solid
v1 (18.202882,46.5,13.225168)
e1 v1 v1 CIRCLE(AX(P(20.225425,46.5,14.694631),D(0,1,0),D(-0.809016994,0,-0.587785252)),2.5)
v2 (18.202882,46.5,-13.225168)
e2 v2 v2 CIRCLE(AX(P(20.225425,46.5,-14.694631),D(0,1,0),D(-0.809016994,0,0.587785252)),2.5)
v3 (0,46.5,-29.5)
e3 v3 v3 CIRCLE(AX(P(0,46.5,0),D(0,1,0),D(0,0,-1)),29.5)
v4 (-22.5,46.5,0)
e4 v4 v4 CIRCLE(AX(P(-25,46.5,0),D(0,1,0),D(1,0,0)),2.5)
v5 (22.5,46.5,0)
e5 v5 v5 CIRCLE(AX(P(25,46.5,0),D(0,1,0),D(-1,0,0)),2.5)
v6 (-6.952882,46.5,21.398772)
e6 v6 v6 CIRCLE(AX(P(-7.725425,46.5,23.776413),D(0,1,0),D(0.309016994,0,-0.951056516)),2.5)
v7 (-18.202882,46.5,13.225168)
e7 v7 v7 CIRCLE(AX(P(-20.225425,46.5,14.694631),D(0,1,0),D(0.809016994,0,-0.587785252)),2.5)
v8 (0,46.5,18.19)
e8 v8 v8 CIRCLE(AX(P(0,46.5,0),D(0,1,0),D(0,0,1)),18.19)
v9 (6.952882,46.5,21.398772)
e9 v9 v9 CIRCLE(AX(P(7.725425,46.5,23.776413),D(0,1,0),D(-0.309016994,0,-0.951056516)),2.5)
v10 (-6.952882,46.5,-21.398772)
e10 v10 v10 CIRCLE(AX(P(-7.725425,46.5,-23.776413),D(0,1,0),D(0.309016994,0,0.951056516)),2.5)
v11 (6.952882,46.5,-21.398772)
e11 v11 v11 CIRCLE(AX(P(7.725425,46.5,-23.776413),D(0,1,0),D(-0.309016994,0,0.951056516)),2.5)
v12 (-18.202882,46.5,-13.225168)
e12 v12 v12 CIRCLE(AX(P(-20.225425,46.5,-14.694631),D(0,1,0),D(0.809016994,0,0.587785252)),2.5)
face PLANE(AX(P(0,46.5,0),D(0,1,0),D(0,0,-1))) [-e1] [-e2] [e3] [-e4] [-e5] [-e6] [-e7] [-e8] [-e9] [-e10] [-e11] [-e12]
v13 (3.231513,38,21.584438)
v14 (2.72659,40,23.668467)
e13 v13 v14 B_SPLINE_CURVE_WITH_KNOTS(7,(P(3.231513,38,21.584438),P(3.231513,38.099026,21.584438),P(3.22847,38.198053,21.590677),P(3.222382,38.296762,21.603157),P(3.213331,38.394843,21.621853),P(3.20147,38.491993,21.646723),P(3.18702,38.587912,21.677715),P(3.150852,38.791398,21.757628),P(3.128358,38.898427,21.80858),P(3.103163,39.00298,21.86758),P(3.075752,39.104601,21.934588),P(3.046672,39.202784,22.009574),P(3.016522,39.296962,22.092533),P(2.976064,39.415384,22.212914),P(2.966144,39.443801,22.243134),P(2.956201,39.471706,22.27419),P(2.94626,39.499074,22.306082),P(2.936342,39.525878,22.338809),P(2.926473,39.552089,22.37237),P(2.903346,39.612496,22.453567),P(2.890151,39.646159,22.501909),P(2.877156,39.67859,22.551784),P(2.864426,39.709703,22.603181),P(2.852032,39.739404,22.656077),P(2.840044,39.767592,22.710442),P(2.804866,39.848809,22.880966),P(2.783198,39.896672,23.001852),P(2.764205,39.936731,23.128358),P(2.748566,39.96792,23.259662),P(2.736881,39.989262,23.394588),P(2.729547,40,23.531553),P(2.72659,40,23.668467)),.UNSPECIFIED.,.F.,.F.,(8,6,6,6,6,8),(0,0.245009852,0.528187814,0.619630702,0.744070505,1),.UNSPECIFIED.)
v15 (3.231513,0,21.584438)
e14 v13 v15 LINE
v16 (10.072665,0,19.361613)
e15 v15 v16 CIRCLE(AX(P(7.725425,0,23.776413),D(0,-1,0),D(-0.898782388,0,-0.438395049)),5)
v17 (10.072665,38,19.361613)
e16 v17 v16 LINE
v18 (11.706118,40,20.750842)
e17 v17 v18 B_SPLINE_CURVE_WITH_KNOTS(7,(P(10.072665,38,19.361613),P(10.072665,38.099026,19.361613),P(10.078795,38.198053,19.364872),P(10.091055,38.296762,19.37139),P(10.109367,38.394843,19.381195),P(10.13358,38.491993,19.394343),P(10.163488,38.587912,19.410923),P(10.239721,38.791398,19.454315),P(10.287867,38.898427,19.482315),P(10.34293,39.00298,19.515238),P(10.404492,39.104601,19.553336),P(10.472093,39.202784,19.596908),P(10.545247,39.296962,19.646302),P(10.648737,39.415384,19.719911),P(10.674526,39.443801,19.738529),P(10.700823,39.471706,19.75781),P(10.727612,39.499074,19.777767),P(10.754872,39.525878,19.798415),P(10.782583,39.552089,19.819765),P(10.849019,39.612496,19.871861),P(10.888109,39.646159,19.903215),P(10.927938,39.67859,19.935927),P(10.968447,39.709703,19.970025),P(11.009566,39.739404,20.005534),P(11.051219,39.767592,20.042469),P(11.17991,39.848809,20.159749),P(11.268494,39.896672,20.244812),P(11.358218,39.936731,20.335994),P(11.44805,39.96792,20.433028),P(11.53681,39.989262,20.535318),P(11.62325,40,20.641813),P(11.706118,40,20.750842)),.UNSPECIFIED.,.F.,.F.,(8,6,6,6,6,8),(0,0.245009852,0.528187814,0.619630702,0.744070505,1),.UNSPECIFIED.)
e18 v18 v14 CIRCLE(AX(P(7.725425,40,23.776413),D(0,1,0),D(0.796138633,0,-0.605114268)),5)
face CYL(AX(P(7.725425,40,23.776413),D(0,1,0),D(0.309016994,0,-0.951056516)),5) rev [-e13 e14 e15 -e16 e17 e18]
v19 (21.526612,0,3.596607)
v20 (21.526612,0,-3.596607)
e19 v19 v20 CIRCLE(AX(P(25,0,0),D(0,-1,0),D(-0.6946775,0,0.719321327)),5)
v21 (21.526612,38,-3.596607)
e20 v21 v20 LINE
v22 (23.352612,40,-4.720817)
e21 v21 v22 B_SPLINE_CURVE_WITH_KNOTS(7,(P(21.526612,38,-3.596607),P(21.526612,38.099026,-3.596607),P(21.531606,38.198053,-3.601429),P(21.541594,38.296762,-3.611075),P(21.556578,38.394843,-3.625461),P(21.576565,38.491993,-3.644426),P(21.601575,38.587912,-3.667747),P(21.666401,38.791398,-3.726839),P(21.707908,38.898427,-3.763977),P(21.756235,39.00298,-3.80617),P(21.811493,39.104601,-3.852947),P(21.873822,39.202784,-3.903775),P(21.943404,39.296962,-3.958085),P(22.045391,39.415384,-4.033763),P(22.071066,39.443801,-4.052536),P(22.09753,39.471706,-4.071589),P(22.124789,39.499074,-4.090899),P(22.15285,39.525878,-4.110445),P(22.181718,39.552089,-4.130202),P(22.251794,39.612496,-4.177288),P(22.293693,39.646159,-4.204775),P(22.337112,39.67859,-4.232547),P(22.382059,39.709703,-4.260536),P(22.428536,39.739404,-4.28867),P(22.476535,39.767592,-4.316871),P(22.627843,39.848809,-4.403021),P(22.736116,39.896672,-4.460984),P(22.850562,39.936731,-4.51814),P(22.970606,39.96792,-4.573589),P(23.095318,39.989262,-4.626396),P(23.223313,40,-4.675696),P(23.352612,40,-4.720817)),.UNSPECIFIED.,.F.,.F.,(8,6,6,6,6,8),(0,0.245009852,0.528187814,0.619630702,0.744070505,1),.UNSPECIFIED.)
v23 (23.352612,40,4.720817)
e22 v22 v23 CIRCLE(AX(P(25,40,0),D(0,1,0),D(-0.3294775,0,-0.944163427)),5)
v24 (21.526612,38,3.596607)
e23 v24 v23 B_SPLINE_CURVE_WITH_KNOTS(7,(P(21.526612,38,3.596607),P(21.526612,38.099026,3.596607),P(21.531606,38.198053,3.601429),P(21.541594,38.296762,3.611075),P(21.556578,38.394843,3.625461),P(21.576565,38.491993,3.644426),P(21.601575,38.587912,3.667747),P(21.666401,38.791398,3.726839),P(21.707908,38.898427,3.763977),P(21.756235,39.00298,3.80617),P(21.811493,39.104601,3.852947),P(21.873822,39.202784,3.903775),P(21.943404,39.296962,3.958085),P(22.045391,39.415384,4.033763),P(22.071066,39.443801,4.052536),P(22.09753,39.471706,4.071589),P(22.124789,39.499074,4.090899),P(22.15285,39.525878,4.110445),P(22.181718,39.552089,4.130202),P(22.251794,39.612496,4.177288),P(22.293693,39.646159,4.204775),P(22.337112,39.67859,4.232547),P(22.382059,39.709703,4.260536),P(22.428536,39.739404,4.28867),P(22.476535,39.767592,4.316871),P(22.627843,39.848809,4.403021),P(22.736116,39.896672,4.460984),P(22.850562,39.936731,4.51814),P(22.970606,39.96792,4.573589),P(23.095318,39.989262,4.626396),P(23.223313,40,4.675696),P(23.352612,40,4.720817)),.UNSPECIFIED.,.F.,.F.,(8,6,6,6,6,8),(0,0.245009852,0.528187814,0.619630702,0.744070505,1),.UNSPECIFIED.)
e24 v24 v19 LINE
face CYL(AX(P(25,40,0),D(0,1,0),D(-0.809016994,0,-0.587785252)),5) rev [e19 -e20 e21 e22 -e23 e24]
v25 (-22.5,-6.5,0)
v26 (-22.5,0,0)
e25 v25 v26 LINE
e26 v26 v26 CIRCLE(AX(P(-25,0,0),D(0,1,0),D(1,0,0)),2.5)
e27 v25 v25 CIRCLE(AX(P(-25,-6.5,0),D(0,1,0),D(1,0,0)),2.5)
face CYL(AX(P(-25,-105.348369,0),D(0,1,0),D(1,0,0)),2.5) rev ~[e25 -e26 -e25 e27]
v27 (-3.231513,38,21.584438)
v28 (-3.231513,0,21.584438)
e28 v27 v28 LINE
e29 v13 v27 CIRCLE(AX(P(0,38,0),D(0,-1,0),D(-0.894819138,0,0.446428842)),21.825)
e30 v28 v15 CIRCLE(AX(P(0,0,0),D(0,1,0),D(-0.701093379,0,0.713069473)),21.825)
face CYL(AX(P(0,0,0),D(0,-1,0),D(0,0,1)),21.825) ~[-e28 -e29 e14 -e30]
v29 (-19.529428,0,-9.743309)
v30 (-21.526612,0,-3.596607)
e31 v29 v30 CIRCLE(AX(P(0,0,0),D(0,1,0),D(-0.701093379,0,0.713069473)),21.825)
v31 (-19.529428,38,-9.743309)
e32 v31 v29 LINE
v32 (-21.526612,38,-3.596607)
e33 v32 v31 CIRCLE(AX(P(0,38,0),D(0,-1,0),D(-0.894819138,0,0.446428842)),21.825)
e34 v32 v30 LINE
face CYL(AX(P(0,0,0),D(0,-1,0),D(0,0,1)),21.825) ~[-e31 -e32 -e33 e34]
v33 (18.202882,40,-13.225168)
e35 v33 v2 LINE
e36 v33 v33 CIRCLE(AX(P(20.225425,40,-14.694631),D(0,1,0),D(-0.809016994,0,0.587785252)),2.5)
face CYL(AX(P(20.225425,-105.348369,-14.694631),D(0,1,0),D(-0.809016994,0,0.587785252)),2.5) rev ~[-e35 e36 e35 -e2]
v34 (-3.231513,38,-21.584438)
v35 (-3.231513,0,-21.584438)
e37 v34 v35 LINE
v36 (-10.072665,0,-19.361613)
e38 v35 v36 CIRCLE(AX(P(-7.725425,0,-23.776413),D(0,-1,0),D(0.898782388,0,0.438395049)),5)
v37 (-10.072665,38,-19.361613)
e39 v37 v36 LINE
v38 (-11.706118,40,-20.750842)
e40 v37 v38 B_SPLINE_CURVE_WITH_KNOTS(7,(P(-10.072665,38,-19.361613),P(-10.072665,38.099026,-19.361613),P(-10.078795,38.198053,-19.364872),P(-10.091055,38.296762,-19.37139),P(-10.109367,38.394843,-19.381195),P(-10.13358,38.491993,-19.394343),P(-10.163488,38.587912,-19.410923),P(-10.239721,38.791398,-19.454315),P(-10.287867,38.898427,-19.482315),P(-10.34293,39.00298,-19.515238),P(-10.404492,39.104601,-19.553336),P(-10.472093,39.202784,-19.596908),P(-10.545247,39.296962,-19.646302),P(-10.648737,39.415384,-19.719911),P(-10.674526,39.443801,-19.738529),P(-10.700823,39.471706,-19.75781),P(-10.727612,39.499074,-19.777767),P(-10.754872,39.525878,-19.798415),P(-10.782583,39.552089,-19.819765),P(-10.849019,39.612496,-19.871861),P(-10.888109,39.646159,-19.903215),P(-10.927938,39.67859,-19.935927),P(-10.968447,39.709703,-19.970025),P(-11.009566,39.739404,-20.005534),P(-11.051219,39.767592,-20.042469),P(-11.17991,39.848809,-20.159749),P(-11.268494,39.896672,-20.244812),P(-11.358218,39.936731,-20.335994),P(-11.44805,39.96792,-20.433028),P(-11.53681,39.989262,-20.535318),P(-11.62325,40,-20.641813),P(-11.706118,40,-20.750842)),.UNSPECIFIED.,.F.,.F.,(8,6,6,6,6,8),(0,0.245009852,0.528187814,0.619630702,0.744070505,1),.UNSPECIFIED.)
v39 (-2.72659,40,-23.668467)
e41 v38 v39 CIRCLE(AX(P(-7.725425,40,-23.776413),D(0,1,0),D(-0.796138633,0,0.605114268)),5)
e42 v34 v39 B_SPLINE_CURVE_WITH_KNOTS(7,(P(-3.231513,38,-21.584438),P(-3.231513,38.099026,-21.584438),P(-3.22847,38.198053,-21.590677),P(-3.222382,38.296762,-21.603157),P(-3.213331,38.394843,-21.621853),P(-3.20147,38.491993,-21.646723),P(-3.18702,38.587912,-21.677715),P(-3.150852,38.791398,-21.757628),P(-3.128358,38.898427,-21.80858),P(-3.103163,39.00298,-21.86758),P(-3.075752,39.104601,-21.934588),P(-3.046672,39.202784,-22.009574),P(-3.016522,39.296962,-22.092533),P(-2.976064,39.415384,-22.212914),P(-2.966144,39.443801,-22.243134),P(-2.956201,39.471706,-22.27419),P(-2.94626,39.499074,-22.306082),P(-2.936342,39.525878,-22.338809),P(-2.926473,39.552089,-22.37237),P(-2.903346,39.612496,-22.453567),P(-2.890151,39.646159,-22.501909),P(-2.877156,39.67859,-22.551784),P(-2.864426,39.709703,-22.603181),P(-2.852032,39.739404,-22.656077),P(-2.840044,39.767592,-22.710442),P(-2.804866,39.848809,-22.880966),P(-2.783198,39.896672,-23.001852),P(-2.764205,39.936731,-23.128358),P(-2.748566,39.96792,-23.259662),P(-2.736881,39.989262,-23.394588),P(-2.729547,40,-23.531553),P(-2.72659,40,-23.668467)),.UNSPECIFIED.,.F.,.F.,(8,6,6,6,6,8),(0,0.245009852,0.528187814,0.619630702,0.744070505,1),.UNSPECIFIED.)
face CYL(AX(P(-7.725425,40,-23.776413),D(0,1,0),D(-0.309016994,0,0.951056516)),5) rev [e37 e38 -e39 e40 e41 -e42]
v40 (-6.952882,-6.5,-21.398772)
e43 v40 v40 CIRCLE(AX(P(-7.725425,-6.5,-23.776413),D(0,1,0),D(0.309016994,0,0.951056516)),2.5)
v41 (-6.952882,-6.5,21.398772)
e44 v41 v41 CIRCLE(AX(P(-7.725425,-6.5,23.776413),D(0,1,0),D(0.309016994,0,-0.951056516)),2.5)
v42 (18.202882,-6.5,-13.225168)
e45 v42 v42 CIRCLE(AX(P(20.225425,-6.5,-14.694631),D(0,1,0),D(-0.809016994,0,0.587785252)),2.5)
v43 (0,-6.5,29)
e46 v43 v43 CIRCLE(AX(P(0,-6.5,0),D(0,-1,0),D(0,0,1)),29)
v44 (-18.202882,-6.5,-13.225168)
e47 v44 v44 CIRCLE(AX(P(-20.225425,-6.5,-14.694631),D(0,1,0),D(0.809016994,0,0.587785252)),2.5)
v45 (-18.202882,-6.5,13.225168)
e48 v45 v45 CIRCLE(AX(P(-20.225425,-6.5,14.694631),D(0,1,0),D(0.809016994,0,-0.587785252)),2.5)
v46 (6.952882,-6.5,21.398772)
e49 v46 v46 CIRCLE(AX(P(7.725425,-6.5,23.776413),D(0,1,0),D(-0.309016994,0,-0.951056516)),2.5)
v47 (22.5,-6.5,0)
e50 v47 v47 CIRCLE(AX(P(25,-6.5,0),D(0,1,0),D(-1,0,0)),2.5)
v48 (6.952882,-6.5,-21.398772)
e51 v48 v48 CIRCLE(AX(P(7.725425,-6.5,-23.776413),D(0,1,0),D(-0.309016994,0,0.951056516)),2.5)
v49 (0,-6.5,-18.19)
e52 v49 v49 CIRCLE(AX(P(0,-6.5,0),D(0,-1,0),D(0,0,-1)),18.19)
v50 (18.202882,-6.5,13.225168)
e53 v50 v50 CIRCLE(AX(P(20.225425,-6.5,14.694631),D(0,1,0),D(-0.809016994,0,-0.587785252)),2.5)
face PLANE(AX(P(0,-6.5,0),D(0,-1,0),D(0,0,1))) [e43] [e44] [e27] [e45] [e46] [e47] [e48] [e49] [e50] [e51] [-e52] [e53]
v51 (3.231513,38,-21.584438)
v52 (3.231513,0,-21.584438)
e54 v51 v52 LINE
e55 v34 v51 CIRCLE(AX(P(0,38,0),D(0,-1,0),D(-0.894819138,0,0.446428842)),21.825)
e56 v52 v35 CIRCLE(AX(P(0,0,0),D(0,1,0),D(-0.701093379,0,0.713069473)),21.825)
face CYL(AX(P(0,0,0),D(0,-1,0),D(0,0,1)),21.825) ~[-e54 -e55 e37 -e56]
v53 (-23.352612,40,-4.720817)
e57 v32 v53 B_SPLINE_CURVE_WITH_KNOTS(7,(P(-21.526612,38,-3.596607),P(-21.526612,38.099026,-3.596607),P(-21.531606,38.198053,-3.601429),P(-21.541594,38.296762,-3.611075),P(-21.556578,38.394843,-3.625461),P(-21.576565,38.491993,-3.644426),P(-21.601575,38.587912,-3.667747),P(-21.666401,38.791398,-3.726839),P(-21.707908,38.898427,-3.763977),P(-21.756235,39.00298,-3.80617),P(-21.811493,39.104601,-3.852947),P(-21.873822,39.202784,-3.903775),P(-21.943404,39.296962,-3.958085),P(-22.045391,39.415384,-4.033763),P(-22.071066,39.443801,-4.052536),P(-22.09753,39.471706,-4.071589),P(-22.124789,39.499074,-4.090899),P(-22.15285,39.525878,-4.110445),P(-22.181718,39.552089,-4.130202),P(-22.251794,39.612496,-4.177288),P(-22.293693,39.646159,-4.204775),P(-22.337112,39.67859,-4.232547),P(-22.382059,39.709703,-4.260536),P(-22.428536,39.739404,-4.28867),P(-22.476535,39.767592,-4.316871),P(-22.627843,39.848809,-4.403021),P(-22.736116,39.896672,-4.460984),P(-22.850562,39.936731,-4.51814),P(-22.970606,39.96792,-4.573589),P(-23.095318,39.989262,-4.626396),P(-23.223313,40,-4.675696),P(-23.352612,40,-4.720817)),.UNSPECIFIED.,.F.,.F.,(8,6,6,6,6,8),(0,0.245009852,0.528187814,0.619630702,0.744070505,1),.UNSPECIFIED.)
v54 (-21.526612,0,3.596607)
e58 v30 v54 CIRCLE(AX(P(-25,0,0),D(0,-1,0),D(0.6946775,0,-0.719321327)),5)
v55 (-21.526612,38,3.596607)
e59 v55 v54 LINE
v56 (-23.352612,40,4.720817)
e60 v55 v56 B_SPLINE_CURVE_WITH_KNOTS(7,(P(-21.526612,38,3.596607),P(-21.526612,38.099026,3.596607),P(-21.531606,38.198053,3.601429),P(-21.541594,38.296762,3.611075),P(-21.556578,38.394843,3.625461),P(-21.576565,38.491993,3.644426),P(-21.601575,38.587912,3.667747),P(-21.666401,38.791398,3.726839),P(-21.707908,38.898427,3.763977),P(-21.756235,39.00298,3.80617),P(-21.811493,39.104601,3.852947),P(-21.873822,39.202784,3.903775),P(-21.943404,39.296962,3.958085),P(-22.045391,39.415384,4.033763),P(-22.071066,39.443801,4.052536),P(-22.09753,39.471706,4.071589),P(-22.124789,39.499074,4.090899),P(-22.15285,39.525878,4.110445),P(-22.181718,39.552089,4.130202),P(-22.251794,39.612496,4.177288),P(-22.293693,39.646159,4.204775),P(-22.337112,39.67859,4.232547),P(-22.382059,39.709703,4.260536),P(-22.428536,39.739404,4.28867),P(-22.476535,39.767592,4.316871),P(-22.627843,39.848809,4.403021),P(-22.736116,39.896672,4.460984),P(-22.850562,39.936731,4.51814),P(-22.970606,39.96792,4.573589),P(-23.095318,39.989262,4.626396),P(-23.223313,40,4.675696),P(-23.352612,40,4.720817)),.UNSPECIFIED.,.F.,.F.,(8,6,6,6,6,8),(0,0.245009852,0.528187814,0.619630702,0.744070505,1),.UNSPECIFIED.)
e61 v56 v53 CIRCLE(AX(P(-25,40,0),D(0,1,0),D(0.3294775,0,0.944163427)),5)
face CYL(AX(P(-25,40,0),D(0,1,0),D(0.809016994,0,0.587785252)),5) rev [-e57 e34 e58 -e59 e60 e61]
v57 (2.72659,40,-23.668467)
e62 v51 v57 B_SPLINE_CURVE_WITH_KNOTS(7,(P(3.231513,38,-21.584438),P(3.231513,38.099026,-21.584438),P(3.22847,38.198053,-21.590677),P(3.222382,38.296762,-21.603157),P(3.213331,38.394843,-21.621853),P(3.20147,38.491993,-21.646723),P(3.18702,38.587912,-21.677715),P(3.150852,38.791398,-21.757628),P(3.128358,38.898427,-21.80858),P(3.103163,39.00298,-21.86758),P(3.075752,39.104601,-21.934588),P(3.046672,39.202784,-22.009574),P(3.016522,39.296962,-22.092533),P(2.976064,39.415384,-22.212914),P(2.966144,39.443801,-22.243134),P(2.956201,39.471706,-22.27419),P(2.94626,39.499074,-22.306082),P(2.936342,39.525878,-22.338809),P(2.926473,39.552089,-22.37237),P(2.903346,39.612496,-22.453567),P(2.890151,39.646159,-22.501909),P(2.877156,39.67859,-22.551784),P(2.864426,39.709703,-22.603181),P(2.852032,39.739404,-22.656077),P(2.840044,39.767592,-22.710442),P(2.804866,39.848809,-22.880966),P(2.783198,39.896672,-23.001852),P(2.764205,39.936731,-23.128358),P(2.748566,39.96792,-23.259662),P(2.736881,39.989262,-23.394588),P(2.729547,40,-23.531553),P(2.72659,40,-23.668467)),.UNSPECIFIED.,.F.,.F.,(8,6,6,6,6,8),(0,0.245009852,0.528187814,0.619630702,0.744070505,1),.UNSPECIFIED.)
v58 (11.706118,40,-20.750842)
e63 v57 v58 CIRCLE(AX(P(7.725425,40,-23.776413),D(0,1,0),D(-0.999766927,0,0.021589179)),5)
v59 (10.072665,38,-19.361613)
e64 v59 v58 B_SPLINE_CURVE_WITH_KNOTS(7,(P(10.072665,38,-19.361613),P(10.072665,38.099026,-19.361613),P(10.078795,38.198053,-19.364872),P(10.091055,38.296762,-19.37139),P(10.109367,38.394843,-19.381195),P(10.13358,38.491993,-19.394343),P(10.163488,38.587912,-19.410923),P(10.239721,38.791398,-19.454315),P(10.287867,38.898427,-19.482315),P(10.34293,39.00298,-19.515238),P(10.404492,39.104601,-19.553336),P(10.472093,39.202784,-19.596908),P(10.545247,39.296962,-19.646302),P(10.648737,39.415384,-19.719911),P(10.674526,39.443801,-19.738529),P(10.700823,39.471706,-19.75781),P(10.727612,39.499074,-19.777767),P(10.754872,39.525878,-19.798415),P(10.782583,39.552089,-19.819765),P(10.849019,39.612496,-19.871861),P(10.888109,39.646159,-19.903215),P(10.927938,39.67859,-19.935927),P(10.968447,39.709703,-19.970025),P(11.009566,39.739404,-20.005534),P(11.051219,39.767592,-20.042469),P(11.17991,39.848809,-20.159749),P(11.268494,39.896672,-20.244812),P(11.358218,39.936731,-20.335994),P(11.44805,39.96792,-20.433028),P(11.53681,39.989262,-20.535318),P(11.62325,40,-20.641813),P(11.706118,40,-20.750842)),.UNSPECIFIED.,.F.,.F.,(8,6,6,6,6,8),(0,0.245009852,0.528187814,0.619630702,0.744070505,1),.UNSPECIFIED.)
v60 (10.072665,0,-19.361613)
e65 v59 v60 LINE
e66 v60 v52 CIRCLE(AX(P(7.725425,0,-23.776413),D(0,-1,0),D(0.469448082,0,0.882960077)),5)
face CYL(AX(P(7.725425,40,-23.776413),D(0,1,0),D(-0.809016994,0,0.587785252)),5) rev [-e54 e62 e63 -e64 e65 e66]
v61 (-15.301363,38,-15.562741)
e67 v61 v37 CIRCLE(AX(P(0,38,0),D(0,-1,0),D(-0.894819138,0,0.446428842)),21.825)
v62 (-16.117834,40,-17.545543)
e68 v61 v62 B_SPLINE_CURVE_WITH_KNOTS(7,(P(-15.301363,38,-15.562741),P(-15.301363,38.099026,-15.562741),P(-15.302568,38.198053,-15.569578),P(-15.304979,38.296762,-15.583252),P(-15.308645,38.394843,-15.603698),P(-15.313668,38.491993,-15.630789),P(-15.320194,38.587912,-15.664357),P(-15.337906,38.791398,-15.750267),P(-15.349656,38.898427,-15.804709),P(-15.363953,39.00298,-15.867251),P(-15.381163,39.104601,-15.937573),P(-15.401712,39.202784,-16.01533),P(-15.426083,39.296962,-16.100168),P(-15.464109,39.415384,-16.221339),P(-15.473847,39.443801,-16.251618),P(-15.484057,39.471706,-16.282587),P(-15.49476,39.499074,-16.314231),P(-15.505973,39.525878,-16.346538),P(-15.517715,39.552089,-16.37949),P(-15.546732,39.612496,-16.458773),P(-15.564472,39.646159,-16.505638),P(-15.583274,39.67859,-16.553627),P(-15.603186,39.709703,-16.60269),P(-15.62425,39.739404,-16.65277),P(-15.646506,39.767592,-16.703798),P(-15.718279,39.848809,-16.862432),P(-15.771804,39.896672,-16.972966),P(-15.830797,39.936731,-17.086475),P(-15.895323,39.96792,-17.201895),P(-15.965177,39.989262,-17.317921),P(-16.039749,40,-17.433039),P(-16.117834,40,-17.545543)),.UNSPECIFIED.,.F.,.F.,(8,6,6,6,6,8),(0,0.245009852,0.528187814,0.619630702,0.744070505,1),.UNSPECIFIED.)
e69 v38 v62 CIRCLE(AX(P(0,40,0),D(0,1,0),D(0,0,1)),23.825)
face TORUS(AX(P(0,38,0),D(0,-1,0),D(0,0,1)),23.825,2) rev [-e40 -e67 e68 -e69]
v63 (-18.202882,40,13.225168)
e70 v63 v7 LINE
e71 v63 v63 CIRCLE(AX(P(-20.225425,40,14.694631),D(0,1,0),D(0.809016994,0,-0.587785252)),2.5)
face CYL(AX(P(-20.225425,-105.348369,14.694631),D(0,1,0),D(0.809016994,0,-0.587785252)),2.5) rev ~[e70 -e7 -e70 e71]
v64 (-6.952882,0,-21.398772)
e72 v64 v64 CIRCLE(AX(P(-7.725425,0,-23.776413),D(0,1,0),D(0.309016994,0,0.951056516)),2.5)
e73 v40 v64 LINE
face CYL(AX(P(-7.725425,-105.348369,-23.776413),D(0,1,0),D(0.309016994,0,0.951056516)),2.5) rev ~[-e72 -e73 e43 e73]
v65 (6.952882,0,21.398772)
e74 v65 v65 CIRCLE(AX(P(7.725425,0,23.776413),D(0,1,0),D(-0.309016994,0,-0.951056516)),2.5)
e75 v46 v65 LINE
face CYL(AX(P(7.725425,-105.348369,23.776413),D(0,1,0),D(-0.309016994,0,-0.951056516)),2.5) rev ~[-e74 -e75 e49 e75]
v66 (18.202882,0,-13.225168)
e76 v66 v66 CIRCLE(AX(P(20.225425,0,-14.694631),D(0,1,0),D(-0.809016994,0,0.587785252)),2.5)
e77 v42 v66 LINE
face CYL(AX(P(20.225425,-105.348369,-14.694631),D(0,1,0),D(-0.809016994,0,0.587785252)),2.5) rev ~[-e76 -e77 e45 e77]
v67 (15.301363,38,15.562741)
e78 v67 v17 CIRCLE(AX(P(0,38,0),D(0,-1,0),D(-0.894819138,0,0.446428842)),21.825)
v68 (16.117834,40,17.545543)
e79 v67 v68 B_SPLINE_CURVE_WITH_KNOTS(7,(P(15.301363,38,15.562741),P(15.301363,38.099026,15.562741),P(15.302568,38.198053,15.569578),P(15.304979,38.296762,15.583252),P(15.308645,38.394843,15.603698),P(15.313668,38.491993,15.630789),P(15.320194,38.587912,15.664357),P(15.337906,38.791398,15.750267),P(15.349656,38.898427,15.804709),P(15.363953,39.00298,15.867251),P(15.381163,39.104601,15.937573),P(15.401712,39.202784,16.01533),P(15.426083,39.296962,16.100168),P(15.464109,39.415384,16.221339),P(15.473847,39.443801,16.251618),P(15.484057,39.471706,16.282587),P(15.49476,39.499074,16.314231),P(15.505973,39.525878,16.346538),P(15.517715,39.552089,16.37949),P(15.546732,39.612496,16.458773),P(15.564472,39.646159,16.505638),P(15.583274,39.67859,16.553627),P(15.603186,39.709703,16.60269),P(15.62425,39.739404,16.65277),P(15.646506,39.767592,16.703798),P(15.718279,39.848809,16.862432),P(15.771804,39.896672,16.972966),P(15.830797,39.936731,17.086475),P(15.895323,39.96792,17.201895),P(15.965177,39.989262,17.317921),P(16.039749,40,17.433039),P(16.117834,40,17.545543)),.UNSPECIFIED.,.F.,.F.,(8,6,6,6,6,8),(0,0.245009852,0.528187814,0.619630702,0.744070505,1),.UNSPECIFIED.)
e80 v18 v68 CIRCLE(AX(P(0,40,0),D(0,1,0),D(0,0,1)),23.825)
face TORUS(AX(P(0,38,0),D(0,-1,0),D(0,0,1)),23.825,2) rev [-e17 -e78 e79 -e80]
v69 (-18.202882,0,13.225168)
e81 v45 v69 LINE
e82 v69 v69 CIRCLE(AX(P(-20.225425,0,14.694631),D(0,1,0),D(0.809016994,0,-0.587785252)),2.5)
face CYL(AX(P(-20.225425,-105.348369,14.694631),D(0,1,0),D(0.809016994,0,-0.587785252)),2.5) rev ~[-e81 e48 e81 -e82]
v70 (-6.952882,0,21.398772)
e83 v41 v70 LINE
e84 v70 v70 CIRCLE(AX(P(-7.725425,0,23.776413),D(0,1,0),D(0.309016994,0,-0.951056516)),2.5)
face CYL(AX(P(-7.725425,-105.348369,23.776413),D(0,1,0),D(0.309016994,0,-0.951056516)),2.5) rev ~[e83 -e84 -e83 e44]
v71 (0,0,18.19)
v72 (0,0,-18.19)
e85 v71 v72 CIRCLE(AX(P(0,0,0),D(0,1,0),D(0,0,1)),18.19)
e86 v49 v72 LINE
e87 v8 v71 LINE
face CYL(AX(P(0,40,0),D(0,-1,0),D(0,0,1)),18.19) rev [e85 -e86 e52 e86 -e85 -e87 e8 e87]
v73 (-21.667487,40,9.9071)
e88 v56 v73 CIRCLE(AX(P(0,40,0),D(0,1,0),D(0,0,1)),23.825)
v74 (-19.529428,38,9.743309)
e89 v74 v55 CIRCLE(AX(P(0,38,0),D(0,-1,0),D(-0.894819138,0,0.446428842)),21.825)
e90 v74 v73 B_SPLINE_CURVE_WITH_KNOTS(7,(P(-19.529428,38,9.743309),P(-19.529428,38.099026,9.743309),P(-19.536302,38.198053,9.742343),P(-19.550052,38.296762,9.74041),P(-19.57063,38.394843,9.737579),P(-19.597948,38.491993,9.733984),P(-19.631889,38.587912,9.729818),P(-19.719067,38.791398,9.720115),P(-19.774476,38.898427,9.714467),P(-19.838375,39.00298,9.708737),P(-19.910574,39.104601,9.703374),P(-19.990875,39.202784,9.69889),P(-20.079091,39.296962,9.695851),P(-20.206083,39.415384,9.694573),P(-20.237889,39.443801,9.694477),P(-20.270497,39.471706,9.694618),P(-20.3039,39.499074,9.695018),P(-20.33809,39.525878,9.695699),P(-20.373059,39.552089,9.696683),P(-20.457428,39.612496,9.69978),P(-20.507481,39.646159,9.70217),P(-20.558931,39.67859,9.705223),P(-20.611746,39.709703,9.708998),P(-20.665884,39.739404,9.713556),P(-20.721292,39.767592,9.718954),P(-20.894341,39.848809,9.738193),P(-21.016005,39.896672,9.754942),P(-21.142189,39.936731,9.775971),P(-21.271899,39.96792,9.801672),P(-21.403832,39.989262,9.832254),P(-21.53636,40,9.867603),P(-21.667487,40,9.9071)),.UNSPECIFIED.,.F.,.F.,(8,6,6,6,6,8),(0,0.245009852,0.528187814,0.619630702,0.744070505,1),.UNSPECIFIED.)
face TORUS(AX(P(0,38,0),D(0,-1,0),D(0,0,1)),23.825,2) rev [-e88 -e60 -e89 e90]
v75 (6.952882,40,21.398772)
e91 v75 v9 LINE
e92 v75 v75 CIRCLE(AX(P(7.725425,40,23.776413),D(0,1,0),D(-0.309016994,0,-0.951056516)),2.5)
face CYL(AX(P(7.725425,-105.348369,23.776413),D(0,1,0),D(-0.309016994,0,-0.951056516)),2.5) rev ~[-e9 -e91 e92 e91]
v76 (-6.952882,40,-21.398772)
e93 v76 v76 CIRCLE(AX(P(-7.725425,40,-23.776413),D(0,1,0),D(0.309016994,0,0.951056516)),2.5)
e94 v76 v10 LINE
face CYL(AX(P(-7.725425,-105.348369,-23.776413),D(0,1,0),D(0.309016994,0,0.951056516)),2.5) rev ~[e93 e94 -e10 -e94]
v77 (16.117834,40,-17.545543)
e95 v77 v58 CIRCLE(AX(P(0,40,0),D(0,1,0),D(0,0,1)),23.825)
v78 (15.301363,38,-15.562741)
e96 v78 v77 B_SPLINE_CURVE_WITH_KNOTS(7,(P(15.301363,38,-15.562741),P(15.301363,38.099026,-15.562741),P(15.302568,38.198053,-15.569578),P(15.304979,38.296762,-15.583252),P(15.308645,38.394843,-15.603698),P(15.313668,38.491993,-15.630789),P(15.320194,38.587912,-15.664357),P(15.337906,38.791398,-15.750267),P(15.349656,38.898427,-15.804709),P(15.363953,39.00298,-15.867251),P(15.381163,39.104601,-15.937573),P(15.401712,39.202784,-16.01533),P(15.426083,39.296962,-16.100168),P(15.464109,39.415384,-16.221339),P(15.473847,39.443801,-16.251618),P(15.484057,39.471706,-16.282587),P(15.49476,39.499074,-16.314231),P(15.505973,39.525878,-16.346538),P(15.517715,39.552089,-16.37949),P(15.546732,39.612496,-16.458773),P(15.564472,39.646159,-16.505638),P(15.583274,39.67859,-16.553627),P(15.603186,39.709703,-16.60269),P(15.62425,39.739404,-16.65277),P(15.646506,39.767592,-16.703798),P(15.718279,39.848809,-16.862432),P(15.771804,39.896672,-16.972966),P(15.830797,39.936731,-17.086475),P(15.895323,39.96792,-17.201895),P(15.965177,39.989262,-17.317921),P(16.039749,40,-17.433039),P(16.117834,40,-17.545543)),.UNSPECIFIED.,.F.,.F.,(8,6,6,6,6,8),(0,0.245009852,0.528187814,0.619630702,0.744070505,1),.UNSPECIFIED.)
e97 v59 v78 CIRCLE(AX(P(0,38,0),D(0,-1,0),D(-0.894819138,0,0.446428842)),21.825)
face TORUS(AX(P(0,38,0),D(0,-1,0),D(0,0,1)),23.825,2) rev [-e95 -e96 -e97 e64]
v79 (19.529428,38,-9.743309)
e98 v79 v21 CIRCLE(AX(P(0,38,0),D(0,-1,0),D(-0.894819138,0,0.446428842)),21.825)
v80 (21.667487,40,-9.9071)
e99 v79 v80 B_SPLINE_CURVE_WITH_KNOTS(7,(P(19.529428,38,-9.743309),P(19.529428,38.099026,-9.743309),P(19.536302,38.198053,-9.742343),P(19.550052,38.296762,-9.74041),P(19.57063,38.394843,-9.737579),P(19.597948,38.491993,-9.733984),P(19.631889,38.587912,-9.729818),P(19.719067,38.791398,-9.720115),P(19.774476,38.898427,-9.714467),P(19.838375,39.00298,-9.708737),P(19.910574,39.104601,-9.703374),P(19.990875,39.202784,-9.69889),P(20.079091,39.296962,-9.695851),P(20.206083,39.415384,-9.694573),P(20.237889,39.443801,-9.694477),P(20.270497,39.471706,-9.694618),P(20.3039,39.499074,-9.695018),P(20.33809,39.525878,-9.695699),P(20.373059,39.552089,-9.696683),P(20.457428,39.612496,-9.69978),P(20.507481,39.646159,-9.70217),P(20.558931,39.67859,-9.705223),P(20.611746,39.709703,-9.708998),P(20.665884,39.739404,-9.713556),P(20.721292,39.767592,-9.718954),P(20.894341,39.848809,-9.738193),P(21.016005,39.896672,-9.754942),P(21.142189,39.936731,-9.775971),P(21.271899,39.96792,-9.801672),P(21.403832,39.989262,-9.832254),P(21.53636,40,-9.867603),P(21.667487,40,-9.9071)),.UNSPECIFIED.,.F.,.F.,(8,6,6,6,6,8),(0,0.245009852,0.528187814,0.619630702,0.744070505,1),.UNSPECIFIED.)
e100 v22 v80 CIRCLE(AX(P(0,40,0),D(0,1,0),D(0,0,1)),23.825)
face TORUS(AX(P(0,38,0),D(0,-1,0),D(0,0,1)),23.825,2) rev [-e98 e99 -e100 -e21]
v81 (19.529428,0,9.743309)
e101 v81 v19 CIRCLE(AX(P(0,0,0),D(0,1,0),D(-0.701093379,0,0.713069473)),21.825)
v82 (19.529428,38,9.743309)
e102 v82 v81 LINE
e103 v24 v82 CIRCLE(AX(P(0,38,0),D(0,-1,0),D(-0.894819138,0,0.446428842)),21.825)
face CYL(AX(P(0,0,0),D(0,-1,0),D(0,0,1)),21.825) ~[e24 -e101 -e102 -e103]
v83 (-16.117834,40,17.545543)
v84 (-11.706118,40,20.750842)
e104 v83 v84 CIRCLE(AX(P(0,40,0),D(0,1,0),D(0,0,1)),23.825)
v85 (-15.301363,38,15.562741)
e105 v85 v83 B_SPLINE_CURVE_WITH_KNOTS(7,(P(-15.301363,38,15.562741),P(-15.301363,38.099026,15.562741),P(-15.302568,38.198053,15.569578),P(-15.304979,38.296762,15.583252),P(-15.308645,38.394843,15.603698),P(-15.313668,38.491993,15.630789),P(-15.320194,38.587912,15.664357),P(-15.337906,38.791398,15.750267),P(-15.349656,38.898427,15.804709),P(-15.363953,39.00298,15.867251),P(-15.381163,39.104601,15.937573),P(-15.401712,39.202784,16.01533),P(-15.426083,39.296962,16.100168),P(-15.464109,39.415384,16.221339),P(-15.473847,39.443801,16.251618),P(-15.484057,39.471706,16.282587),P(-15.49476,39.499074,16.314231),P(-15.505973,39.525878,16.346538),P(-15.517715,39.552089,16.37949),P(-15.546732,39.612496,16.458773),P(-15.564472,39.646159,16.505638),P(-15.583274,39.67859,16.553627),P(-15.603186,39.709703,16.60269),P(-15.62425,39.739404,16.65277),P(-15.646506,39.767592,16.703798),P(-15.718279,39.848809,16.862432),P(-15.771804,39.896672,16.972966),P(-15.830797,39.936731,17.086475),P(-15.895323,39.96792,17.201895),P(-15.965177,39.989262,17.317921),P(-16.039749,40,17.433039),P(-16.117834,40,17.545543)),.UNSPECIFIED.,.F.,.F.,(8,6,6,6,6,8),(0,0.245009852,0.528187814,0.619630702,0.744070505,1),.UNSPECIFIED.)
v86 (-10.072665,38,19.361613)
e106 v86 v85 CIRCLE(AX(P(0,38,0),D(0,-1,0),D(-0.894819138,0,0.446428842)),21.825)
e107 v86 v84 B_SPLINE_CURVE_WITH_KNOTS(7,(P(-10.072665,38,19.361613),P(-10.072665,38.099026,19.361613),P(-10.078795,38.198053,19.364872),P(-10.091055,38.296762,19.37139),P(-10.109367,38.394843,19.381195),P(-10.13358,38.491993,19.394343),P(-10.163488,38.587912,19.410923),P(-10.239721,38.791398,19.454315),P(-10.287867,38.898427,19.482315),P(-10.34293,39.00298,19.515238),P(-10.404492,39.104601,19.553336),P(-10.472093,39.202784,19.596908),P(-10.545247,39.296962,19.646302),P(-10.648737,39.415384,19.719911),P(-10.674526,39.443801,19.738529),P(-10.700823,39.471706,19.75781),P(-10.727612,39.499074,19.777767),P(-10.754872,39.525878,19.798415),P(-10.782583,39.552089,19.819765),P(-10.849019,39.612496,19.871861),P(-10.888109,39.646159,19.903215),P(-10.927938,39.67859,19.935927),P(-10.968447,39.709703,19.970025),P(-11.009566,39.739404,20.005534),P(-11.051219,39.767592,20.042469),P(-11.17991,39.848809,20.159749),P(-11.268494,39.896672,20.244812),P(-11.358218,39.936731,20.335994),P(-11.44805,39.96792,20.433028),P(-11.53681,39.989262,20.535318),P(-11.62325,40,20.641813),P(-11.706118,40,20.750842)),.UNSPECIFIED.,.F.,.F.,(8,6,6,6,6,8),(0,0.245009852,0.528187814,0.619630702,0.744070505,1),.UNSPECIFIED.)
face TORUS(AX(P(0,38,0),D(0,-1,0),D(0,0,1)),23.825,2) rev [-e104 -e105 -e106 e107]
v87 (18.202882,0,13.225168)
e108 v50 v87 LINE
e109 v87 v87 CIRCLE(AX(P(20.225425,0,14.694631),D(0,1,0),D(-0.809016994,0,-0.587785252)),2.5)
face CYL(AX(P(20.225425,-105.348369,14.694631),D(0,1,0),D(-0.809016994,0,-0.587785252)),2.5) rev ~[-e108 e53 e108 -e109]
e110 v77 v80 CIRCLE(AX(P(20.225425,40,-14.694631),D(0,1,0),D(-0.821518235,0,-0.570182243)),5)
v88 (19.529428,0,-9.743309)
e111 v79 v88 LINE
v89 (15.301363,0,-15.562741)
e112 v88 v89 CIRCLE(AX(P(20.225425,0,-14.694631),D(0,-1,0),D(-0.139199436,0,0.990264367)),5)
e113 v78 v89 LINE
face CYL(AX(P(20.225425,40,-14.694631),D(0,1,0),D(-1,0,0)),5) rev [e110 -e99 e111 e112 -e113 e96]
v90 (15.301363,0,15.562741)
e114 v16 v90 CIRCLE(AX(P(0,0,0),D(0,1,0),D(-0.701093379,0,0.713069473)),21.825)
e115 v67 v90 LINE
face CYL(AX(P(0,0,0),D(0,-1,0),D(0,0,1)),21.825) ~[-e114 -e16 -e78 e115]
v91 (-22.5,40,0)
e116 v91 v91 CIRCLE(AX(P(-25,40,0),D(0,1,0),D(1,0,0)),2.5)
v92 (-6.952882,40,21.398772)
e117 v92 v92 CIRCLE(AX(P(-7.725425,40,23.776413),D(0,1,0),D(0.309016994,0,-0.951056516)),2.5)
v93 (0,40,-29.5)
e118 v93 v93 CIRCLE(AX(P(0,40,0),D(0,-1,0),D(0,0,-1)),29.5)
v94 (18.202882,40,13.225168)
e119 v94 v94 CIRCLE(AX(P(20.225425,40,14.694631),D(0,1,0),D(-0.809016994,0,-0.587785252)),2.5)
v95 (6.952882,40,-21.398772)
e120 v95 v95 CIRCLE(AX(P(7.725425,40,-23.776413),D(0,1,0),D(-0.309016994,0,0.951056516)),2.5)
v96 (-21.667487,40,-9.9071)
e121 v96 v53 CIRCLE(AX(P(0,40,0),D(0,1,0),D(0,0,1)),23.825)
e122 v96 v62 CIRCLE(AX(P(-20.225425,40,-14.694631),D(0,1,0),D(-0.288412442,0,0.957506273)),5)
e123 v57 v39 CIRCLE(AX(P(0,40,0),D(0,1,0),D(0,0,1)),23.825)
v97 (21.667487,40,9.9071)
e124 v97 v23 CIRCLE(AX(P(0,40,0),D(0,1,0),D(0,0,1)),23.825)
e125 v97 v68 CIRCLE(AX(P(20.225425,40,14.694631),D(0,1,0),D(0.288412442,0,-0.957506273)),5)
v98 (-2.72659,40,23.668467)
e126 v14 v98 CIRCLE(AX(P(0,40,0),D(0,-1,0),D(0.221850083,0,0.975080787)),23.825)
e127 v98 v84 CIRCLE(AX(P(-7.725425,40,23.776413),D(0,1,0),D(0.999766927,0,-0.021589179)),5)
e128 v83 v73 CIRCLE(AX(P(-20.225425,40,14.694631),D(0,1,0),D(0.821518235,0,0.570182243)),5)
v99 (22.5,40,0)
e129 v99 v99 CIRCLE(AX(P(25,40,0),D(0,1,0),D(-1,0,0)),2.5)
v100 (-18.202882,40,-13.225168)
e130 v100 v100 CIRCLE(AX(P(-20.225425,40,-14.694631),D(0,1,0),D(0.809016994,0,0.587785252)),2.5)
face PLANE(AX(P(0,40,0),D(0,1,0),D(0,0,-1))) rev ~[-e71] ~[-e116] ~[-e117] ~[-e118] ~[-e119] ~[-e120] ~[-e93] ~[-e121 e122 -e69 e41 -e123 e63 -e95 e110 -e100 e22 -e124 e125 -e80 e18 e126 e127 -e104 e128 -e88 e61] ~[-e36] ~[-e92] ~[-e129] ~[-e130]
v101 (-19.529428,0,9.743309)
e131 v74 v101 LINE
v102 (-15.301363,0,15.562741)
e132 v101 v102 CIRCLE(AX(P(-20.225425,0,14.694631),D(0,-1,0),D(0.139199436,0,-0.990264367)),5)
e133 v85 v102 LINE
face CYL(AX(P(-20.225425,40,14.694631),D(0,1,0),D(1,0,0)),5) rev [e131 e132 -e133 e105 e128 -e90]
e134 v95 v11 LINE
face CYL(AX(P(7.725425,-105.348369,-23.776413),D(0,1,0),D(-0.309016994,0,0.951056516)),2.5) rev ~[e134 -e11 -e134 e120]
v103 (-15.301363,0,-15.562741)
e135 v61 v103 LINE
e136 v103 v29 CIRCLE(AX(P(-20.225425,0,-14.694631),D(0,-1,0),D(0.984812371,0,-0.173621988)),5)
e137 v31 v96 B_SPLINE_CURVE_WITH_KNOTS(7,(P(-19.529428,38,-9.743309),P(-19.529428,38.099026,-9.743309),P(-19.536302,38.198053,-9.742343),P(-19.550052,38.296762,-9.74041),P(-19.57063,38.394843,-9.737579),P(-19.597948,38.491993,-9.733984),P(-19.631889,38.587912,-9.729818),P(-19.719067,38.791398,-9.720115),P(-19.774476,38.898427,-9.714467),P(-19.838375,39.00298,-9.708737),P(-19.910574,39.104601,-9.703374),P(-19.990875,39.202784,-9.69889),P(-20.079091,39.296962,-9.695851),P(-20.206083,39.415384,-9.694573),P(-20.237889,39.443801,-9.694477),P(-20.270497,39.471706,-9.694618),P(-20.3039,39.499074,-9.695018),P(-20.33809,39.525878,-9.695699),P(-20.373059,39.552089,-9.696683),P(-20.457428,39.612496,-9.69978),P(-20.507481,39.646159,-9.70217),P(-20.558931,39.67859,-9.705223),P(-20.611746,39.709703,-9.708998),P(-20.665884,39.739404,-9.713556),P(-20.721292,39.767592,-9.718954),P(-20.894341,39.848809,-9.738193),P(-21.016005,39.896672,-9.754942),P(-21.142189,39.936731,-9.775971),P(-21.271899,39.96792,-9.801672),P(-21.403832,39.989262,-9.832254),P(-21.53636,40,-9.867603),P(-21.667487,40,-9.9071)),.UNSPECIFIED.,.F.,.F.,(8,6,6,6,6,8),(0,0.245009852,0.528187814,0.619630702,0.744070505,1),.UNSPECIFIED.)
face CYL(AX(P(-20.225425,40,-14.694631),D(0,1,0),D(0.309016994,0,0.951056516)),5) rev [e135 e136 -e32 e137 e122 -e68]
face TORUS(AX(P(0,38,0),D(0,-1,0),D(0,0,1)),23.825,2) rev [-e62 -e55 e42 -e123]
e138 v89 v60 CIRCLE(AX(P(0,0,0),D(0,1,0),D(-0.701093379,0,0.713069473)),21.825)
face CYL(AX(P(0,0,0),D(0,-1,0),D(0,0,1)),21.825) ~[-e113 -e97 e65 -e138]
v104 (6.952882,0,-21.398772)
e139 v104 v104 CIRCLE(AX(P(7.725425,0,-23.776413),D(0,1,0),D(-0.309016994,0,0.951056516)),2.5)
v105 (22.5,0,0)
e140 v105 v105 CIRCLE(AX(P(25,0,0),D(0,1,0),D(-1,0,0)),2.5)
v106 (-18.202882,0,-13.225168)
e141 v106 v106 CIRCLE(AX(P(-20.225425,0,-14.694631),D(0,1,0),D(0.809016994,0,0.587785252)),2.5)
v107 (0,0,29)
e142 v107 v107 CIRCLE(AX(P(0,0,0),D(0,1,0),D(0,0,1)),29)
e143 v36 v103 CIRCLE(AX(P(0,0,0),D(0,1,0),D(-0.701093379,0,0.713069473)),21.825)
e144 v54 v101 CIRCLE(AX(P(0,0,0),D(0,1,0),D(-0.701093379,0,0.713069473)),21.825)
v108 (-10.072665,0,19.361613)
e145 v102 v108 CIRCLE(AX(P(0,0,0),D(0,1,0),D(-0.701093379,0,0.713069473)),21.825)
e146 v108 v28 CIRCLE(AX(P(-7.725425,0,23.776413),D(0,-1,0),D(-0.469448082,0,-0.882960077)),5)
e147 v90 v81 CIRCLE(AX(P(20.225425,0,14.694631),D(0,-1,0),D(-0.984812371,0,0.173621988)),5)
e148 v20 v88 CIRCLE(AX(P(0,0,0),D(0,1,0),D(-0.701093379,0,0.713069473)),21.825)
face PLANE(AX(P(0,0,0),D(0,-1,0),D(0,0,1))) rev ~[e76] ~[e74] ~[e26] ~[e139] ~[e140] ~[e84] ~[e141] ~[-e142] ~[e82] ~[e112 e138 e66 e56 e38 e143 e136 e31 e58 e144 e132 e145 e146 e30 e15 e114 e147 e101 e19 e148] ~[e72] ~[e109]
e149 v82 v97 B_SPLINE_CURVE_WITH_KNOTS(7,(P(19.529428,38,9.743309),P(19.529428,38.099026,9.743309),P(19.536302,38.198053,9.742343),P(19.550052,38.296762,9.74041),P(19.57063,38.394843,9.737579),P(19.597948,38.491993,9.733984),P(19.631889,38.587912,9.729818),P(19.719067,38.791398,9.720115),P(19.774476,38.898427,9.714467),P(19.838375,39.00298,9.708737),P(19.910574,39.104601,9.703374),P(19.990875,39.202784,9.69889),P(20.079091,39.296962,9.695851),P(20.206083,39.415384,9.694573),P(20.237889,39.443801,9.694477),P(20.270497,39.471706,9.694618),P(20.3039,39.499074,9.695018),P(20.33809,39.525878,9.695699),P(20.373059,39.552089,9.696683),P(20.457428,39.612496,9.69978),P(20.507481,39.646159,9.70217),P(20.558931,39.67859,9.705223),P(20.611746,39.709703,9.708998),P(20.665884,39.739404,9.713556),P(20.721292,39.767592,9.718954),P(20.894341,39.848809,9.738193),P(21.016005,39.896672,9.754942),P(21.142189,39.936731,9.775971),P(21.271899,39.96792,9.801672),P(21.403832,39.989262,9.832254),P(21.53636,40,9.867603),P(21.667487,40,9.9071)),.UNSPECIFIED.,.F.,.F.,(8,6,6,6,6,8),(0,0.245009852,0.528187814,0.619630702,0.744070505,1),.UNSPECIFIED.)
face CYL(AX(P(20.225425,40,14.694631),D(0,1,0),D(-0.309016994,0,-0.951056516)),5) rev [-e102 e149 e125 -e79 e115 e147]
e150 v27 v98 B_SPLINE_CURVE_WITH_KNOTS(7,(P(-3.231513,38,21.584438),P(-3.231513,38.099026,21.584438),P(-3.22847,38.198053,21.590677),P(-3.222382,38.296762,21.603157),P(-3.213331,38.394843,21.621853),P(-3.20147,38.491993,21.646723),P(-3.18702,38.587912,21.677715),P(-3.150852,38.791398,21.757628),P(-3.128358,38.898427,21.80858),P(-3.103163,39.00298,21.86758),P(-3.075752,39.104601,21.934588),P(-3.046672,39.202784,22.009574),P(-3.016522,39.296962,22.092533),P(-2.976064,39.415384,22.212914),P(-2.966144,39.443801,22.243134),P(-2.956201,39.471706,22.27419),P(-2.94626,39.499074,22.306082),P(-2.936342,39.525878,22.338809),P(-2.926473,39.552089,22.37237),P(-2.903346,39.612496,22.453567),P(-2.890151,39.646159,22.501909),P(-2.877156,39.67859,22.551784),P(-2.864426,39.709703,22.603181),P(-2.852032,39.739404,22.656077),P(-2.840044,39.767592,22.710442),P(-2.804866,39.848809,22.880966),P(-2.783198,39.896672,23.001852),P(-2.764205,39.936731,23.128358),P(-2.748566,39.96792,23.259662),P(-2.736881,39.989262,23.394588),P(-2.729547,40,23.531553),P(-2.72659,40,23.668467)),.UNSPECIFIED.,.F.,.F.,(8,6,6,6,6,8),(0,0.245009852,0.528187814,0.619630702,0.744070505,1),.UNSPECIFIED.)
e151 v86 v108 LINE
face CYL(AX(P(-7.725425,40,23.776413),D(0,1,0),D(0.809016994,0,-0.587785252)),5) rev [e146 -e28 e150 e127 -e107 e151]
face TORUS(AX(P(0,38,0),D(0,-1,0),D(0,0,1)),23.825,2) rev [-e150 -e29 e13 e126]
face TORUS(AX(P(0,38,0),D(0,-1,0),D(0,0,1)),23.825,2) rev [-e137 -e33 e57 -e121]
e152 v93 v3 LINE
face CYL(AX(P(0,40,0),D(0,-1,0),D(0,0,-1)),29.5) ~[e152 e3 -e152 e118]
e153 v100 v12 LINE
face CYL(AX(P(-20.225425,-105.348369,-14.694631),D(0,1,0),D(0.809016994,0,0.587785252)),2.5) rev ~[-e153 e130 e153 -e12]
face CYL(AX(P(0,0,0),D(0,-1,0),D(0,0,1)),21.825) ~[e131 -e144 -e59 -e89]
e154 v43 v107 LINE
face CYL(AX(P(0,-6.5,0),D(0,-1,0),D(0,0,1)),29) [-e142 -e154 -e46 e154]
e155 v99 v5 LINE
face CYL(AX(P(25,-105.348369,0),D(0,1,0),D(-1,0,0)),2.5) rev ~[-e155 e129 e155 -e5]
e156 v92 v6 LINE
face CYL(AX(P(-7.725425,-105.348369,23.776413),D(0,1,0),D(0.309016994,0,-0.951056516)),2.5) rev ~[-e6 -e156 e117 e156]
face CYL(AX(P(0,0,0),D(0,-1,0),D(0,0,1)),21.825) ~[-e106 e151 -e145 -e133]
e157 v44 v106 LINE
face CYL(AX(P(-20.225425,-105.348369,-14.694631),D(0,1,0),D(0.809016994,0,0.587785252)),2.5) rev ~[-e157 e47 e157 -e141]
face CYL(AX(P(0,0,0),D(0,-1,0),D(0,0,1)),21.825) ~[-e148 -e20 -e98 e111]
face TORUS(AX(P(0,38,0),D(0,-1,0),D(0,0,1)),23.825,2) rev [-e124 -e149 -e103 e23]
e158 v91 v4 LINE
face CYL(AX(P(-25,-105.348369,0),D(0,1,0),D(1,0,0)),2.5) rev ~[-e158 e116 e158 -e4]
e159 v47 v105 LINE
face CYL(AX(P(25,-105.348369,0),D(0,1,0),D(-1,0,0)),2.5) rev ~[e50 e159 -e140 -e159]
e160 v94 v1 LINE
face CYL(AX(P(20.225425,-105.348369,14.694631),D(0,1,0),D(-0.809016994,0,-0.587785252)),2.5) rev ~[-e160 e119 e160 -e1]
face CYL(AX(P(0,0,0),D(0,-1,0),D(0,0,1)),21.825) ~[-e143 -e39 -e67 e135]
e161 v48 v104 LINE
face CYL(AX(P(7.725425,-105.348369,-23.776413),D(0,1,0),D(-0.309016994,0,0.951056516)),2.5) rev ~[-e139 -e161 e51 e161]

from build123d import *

# Parameters (mm, degrees)
SKETCH2_R           = 21.825
SKETCH2_R_2         = 18.19
BOSS_EXTRUDE1_DEPTH = 40
SKETCH4_R           = 29.5
SKETCH4_R_2         = 18.19
BOSS_EXTRUDE3_DEPTH = 6.5
BOSS_EXTRUDE4_START = 6.5
SKETCH5_R           = 29
SKETCH5_R_2         = 18.19
BOSS_EXTRUDE4_DEPTH = 6.5
FILLET1_R           = 2
HOLE1_D             = 5
CIRPATTERN1_COUNT   = 10
SKETCH9_R           = 5
CUT_EXTRUDE1_DEPTH  = 40
CIRPATTERN2_COUNT   = 10


with BuildPart() as part:
    # Sketch2 → Boss-Extrude1 (new body)
    with BuildSketch(Plane(origin=(0, 0, 0), x_dir=(1, 0, 0), z_dir=(0, 1, 0))):
        with Locations(Location((0, 0, 0), (0, 0, 270))):
            Circle(SKETCH2_R)
        with Locations(Location((0, 0, 0), (0, 0, 270))):
            Circle(SKETCH2_R_2, mode=Mode.SUBTRACT)
    extrude(amount=BOSS_EXTRUDE1_DEPTH)

    # Sketch4 → Boss-Extrude3 (add)
    with BuildSketch(Plane(origin=(0, 40, 0), x_dir=(1, 0, 0), z_dir=(0, 1, 0))):
        with Locations(Location((0, 0, 0), (0, 0, 90))):
            Circle(SKETCH4_R)
        with Locations(Location((0, 0, 0), (0, 0, 270))):
            Circle(SKETCH4_R_2, mode=Mode.SUBTRACT)
    extrude(amount=BOSS_EXTRUDE3_DEPTH)

    # Sketch5 → Boss-Extrude4 (add)
    with BuildSketch(Plane.XZ.offset(BOSS_EXTRUDE4_START)):
        with Locations(Location((0, 0, 0), (0, 0, 90))):
            Circle(SKETCH5_R)
        with Locations(Location((0, 0, 0), (0, 0, 270))):
            Circle(SKETCH5_R_2, mode=Mode.SUBTRACT)
    extrude(amount=-BOSS_EXTRUDE4_DEPTH)

    # Fillet1
    fillet1_edges = [part.edges().sort_by_distance(p)[0] for p in [
        (0, 40, -21.825),
    ]]
    fillet(fillet1_edges, radius=FILLET1_R)

    # Hole1 (through all)
    with Locations(Plane(origin=(0, -6.5, 0), x_dir=(-1, 0, 0), z_dir=(0, -1, 0))):
        with Locations((25, 0)):
            hole1 = Hole(HOLE1_D / 2)

    # CirPattern1: Hole1 ×10 about axis
    cirpattern1_axis = Axis((0, 0, 0), (0, 1, 0))
    for i in range(1, CIRPATTERN1_COUNT):
        add(hole1.rotate(cirpattern1_axis, i * 360 / CIRPATTERN1_COUNT), mode=Mode.SUBTRACT)

    # Sketch9 → Cut-Extrude1 (cut)
    with BuildSketch(Plane.XZ.offset(-40)):
        with Locations((-20.225424859, 14.694631307)):
            Circle(SKETCH9_R)
    cut_extrude1 = extrude(amount=CUT_EXTRUDE1_DEPTH, mode=Mode.SUBTRACT)

    # CirPattern2: Cut-Extrude1 ×10 about axis
    cirpattern2_axis = Axis((0, 0, 0), (0, 1, 0))
    for i in range(1, CIRPATTERN2_COUNT):
        add(cut_extrude1.rotate(cirpattern2_axis, i * 360 / CIRPATTERN2_COUNT), mode=Mode.SUBTRACT)


solid = part.part
